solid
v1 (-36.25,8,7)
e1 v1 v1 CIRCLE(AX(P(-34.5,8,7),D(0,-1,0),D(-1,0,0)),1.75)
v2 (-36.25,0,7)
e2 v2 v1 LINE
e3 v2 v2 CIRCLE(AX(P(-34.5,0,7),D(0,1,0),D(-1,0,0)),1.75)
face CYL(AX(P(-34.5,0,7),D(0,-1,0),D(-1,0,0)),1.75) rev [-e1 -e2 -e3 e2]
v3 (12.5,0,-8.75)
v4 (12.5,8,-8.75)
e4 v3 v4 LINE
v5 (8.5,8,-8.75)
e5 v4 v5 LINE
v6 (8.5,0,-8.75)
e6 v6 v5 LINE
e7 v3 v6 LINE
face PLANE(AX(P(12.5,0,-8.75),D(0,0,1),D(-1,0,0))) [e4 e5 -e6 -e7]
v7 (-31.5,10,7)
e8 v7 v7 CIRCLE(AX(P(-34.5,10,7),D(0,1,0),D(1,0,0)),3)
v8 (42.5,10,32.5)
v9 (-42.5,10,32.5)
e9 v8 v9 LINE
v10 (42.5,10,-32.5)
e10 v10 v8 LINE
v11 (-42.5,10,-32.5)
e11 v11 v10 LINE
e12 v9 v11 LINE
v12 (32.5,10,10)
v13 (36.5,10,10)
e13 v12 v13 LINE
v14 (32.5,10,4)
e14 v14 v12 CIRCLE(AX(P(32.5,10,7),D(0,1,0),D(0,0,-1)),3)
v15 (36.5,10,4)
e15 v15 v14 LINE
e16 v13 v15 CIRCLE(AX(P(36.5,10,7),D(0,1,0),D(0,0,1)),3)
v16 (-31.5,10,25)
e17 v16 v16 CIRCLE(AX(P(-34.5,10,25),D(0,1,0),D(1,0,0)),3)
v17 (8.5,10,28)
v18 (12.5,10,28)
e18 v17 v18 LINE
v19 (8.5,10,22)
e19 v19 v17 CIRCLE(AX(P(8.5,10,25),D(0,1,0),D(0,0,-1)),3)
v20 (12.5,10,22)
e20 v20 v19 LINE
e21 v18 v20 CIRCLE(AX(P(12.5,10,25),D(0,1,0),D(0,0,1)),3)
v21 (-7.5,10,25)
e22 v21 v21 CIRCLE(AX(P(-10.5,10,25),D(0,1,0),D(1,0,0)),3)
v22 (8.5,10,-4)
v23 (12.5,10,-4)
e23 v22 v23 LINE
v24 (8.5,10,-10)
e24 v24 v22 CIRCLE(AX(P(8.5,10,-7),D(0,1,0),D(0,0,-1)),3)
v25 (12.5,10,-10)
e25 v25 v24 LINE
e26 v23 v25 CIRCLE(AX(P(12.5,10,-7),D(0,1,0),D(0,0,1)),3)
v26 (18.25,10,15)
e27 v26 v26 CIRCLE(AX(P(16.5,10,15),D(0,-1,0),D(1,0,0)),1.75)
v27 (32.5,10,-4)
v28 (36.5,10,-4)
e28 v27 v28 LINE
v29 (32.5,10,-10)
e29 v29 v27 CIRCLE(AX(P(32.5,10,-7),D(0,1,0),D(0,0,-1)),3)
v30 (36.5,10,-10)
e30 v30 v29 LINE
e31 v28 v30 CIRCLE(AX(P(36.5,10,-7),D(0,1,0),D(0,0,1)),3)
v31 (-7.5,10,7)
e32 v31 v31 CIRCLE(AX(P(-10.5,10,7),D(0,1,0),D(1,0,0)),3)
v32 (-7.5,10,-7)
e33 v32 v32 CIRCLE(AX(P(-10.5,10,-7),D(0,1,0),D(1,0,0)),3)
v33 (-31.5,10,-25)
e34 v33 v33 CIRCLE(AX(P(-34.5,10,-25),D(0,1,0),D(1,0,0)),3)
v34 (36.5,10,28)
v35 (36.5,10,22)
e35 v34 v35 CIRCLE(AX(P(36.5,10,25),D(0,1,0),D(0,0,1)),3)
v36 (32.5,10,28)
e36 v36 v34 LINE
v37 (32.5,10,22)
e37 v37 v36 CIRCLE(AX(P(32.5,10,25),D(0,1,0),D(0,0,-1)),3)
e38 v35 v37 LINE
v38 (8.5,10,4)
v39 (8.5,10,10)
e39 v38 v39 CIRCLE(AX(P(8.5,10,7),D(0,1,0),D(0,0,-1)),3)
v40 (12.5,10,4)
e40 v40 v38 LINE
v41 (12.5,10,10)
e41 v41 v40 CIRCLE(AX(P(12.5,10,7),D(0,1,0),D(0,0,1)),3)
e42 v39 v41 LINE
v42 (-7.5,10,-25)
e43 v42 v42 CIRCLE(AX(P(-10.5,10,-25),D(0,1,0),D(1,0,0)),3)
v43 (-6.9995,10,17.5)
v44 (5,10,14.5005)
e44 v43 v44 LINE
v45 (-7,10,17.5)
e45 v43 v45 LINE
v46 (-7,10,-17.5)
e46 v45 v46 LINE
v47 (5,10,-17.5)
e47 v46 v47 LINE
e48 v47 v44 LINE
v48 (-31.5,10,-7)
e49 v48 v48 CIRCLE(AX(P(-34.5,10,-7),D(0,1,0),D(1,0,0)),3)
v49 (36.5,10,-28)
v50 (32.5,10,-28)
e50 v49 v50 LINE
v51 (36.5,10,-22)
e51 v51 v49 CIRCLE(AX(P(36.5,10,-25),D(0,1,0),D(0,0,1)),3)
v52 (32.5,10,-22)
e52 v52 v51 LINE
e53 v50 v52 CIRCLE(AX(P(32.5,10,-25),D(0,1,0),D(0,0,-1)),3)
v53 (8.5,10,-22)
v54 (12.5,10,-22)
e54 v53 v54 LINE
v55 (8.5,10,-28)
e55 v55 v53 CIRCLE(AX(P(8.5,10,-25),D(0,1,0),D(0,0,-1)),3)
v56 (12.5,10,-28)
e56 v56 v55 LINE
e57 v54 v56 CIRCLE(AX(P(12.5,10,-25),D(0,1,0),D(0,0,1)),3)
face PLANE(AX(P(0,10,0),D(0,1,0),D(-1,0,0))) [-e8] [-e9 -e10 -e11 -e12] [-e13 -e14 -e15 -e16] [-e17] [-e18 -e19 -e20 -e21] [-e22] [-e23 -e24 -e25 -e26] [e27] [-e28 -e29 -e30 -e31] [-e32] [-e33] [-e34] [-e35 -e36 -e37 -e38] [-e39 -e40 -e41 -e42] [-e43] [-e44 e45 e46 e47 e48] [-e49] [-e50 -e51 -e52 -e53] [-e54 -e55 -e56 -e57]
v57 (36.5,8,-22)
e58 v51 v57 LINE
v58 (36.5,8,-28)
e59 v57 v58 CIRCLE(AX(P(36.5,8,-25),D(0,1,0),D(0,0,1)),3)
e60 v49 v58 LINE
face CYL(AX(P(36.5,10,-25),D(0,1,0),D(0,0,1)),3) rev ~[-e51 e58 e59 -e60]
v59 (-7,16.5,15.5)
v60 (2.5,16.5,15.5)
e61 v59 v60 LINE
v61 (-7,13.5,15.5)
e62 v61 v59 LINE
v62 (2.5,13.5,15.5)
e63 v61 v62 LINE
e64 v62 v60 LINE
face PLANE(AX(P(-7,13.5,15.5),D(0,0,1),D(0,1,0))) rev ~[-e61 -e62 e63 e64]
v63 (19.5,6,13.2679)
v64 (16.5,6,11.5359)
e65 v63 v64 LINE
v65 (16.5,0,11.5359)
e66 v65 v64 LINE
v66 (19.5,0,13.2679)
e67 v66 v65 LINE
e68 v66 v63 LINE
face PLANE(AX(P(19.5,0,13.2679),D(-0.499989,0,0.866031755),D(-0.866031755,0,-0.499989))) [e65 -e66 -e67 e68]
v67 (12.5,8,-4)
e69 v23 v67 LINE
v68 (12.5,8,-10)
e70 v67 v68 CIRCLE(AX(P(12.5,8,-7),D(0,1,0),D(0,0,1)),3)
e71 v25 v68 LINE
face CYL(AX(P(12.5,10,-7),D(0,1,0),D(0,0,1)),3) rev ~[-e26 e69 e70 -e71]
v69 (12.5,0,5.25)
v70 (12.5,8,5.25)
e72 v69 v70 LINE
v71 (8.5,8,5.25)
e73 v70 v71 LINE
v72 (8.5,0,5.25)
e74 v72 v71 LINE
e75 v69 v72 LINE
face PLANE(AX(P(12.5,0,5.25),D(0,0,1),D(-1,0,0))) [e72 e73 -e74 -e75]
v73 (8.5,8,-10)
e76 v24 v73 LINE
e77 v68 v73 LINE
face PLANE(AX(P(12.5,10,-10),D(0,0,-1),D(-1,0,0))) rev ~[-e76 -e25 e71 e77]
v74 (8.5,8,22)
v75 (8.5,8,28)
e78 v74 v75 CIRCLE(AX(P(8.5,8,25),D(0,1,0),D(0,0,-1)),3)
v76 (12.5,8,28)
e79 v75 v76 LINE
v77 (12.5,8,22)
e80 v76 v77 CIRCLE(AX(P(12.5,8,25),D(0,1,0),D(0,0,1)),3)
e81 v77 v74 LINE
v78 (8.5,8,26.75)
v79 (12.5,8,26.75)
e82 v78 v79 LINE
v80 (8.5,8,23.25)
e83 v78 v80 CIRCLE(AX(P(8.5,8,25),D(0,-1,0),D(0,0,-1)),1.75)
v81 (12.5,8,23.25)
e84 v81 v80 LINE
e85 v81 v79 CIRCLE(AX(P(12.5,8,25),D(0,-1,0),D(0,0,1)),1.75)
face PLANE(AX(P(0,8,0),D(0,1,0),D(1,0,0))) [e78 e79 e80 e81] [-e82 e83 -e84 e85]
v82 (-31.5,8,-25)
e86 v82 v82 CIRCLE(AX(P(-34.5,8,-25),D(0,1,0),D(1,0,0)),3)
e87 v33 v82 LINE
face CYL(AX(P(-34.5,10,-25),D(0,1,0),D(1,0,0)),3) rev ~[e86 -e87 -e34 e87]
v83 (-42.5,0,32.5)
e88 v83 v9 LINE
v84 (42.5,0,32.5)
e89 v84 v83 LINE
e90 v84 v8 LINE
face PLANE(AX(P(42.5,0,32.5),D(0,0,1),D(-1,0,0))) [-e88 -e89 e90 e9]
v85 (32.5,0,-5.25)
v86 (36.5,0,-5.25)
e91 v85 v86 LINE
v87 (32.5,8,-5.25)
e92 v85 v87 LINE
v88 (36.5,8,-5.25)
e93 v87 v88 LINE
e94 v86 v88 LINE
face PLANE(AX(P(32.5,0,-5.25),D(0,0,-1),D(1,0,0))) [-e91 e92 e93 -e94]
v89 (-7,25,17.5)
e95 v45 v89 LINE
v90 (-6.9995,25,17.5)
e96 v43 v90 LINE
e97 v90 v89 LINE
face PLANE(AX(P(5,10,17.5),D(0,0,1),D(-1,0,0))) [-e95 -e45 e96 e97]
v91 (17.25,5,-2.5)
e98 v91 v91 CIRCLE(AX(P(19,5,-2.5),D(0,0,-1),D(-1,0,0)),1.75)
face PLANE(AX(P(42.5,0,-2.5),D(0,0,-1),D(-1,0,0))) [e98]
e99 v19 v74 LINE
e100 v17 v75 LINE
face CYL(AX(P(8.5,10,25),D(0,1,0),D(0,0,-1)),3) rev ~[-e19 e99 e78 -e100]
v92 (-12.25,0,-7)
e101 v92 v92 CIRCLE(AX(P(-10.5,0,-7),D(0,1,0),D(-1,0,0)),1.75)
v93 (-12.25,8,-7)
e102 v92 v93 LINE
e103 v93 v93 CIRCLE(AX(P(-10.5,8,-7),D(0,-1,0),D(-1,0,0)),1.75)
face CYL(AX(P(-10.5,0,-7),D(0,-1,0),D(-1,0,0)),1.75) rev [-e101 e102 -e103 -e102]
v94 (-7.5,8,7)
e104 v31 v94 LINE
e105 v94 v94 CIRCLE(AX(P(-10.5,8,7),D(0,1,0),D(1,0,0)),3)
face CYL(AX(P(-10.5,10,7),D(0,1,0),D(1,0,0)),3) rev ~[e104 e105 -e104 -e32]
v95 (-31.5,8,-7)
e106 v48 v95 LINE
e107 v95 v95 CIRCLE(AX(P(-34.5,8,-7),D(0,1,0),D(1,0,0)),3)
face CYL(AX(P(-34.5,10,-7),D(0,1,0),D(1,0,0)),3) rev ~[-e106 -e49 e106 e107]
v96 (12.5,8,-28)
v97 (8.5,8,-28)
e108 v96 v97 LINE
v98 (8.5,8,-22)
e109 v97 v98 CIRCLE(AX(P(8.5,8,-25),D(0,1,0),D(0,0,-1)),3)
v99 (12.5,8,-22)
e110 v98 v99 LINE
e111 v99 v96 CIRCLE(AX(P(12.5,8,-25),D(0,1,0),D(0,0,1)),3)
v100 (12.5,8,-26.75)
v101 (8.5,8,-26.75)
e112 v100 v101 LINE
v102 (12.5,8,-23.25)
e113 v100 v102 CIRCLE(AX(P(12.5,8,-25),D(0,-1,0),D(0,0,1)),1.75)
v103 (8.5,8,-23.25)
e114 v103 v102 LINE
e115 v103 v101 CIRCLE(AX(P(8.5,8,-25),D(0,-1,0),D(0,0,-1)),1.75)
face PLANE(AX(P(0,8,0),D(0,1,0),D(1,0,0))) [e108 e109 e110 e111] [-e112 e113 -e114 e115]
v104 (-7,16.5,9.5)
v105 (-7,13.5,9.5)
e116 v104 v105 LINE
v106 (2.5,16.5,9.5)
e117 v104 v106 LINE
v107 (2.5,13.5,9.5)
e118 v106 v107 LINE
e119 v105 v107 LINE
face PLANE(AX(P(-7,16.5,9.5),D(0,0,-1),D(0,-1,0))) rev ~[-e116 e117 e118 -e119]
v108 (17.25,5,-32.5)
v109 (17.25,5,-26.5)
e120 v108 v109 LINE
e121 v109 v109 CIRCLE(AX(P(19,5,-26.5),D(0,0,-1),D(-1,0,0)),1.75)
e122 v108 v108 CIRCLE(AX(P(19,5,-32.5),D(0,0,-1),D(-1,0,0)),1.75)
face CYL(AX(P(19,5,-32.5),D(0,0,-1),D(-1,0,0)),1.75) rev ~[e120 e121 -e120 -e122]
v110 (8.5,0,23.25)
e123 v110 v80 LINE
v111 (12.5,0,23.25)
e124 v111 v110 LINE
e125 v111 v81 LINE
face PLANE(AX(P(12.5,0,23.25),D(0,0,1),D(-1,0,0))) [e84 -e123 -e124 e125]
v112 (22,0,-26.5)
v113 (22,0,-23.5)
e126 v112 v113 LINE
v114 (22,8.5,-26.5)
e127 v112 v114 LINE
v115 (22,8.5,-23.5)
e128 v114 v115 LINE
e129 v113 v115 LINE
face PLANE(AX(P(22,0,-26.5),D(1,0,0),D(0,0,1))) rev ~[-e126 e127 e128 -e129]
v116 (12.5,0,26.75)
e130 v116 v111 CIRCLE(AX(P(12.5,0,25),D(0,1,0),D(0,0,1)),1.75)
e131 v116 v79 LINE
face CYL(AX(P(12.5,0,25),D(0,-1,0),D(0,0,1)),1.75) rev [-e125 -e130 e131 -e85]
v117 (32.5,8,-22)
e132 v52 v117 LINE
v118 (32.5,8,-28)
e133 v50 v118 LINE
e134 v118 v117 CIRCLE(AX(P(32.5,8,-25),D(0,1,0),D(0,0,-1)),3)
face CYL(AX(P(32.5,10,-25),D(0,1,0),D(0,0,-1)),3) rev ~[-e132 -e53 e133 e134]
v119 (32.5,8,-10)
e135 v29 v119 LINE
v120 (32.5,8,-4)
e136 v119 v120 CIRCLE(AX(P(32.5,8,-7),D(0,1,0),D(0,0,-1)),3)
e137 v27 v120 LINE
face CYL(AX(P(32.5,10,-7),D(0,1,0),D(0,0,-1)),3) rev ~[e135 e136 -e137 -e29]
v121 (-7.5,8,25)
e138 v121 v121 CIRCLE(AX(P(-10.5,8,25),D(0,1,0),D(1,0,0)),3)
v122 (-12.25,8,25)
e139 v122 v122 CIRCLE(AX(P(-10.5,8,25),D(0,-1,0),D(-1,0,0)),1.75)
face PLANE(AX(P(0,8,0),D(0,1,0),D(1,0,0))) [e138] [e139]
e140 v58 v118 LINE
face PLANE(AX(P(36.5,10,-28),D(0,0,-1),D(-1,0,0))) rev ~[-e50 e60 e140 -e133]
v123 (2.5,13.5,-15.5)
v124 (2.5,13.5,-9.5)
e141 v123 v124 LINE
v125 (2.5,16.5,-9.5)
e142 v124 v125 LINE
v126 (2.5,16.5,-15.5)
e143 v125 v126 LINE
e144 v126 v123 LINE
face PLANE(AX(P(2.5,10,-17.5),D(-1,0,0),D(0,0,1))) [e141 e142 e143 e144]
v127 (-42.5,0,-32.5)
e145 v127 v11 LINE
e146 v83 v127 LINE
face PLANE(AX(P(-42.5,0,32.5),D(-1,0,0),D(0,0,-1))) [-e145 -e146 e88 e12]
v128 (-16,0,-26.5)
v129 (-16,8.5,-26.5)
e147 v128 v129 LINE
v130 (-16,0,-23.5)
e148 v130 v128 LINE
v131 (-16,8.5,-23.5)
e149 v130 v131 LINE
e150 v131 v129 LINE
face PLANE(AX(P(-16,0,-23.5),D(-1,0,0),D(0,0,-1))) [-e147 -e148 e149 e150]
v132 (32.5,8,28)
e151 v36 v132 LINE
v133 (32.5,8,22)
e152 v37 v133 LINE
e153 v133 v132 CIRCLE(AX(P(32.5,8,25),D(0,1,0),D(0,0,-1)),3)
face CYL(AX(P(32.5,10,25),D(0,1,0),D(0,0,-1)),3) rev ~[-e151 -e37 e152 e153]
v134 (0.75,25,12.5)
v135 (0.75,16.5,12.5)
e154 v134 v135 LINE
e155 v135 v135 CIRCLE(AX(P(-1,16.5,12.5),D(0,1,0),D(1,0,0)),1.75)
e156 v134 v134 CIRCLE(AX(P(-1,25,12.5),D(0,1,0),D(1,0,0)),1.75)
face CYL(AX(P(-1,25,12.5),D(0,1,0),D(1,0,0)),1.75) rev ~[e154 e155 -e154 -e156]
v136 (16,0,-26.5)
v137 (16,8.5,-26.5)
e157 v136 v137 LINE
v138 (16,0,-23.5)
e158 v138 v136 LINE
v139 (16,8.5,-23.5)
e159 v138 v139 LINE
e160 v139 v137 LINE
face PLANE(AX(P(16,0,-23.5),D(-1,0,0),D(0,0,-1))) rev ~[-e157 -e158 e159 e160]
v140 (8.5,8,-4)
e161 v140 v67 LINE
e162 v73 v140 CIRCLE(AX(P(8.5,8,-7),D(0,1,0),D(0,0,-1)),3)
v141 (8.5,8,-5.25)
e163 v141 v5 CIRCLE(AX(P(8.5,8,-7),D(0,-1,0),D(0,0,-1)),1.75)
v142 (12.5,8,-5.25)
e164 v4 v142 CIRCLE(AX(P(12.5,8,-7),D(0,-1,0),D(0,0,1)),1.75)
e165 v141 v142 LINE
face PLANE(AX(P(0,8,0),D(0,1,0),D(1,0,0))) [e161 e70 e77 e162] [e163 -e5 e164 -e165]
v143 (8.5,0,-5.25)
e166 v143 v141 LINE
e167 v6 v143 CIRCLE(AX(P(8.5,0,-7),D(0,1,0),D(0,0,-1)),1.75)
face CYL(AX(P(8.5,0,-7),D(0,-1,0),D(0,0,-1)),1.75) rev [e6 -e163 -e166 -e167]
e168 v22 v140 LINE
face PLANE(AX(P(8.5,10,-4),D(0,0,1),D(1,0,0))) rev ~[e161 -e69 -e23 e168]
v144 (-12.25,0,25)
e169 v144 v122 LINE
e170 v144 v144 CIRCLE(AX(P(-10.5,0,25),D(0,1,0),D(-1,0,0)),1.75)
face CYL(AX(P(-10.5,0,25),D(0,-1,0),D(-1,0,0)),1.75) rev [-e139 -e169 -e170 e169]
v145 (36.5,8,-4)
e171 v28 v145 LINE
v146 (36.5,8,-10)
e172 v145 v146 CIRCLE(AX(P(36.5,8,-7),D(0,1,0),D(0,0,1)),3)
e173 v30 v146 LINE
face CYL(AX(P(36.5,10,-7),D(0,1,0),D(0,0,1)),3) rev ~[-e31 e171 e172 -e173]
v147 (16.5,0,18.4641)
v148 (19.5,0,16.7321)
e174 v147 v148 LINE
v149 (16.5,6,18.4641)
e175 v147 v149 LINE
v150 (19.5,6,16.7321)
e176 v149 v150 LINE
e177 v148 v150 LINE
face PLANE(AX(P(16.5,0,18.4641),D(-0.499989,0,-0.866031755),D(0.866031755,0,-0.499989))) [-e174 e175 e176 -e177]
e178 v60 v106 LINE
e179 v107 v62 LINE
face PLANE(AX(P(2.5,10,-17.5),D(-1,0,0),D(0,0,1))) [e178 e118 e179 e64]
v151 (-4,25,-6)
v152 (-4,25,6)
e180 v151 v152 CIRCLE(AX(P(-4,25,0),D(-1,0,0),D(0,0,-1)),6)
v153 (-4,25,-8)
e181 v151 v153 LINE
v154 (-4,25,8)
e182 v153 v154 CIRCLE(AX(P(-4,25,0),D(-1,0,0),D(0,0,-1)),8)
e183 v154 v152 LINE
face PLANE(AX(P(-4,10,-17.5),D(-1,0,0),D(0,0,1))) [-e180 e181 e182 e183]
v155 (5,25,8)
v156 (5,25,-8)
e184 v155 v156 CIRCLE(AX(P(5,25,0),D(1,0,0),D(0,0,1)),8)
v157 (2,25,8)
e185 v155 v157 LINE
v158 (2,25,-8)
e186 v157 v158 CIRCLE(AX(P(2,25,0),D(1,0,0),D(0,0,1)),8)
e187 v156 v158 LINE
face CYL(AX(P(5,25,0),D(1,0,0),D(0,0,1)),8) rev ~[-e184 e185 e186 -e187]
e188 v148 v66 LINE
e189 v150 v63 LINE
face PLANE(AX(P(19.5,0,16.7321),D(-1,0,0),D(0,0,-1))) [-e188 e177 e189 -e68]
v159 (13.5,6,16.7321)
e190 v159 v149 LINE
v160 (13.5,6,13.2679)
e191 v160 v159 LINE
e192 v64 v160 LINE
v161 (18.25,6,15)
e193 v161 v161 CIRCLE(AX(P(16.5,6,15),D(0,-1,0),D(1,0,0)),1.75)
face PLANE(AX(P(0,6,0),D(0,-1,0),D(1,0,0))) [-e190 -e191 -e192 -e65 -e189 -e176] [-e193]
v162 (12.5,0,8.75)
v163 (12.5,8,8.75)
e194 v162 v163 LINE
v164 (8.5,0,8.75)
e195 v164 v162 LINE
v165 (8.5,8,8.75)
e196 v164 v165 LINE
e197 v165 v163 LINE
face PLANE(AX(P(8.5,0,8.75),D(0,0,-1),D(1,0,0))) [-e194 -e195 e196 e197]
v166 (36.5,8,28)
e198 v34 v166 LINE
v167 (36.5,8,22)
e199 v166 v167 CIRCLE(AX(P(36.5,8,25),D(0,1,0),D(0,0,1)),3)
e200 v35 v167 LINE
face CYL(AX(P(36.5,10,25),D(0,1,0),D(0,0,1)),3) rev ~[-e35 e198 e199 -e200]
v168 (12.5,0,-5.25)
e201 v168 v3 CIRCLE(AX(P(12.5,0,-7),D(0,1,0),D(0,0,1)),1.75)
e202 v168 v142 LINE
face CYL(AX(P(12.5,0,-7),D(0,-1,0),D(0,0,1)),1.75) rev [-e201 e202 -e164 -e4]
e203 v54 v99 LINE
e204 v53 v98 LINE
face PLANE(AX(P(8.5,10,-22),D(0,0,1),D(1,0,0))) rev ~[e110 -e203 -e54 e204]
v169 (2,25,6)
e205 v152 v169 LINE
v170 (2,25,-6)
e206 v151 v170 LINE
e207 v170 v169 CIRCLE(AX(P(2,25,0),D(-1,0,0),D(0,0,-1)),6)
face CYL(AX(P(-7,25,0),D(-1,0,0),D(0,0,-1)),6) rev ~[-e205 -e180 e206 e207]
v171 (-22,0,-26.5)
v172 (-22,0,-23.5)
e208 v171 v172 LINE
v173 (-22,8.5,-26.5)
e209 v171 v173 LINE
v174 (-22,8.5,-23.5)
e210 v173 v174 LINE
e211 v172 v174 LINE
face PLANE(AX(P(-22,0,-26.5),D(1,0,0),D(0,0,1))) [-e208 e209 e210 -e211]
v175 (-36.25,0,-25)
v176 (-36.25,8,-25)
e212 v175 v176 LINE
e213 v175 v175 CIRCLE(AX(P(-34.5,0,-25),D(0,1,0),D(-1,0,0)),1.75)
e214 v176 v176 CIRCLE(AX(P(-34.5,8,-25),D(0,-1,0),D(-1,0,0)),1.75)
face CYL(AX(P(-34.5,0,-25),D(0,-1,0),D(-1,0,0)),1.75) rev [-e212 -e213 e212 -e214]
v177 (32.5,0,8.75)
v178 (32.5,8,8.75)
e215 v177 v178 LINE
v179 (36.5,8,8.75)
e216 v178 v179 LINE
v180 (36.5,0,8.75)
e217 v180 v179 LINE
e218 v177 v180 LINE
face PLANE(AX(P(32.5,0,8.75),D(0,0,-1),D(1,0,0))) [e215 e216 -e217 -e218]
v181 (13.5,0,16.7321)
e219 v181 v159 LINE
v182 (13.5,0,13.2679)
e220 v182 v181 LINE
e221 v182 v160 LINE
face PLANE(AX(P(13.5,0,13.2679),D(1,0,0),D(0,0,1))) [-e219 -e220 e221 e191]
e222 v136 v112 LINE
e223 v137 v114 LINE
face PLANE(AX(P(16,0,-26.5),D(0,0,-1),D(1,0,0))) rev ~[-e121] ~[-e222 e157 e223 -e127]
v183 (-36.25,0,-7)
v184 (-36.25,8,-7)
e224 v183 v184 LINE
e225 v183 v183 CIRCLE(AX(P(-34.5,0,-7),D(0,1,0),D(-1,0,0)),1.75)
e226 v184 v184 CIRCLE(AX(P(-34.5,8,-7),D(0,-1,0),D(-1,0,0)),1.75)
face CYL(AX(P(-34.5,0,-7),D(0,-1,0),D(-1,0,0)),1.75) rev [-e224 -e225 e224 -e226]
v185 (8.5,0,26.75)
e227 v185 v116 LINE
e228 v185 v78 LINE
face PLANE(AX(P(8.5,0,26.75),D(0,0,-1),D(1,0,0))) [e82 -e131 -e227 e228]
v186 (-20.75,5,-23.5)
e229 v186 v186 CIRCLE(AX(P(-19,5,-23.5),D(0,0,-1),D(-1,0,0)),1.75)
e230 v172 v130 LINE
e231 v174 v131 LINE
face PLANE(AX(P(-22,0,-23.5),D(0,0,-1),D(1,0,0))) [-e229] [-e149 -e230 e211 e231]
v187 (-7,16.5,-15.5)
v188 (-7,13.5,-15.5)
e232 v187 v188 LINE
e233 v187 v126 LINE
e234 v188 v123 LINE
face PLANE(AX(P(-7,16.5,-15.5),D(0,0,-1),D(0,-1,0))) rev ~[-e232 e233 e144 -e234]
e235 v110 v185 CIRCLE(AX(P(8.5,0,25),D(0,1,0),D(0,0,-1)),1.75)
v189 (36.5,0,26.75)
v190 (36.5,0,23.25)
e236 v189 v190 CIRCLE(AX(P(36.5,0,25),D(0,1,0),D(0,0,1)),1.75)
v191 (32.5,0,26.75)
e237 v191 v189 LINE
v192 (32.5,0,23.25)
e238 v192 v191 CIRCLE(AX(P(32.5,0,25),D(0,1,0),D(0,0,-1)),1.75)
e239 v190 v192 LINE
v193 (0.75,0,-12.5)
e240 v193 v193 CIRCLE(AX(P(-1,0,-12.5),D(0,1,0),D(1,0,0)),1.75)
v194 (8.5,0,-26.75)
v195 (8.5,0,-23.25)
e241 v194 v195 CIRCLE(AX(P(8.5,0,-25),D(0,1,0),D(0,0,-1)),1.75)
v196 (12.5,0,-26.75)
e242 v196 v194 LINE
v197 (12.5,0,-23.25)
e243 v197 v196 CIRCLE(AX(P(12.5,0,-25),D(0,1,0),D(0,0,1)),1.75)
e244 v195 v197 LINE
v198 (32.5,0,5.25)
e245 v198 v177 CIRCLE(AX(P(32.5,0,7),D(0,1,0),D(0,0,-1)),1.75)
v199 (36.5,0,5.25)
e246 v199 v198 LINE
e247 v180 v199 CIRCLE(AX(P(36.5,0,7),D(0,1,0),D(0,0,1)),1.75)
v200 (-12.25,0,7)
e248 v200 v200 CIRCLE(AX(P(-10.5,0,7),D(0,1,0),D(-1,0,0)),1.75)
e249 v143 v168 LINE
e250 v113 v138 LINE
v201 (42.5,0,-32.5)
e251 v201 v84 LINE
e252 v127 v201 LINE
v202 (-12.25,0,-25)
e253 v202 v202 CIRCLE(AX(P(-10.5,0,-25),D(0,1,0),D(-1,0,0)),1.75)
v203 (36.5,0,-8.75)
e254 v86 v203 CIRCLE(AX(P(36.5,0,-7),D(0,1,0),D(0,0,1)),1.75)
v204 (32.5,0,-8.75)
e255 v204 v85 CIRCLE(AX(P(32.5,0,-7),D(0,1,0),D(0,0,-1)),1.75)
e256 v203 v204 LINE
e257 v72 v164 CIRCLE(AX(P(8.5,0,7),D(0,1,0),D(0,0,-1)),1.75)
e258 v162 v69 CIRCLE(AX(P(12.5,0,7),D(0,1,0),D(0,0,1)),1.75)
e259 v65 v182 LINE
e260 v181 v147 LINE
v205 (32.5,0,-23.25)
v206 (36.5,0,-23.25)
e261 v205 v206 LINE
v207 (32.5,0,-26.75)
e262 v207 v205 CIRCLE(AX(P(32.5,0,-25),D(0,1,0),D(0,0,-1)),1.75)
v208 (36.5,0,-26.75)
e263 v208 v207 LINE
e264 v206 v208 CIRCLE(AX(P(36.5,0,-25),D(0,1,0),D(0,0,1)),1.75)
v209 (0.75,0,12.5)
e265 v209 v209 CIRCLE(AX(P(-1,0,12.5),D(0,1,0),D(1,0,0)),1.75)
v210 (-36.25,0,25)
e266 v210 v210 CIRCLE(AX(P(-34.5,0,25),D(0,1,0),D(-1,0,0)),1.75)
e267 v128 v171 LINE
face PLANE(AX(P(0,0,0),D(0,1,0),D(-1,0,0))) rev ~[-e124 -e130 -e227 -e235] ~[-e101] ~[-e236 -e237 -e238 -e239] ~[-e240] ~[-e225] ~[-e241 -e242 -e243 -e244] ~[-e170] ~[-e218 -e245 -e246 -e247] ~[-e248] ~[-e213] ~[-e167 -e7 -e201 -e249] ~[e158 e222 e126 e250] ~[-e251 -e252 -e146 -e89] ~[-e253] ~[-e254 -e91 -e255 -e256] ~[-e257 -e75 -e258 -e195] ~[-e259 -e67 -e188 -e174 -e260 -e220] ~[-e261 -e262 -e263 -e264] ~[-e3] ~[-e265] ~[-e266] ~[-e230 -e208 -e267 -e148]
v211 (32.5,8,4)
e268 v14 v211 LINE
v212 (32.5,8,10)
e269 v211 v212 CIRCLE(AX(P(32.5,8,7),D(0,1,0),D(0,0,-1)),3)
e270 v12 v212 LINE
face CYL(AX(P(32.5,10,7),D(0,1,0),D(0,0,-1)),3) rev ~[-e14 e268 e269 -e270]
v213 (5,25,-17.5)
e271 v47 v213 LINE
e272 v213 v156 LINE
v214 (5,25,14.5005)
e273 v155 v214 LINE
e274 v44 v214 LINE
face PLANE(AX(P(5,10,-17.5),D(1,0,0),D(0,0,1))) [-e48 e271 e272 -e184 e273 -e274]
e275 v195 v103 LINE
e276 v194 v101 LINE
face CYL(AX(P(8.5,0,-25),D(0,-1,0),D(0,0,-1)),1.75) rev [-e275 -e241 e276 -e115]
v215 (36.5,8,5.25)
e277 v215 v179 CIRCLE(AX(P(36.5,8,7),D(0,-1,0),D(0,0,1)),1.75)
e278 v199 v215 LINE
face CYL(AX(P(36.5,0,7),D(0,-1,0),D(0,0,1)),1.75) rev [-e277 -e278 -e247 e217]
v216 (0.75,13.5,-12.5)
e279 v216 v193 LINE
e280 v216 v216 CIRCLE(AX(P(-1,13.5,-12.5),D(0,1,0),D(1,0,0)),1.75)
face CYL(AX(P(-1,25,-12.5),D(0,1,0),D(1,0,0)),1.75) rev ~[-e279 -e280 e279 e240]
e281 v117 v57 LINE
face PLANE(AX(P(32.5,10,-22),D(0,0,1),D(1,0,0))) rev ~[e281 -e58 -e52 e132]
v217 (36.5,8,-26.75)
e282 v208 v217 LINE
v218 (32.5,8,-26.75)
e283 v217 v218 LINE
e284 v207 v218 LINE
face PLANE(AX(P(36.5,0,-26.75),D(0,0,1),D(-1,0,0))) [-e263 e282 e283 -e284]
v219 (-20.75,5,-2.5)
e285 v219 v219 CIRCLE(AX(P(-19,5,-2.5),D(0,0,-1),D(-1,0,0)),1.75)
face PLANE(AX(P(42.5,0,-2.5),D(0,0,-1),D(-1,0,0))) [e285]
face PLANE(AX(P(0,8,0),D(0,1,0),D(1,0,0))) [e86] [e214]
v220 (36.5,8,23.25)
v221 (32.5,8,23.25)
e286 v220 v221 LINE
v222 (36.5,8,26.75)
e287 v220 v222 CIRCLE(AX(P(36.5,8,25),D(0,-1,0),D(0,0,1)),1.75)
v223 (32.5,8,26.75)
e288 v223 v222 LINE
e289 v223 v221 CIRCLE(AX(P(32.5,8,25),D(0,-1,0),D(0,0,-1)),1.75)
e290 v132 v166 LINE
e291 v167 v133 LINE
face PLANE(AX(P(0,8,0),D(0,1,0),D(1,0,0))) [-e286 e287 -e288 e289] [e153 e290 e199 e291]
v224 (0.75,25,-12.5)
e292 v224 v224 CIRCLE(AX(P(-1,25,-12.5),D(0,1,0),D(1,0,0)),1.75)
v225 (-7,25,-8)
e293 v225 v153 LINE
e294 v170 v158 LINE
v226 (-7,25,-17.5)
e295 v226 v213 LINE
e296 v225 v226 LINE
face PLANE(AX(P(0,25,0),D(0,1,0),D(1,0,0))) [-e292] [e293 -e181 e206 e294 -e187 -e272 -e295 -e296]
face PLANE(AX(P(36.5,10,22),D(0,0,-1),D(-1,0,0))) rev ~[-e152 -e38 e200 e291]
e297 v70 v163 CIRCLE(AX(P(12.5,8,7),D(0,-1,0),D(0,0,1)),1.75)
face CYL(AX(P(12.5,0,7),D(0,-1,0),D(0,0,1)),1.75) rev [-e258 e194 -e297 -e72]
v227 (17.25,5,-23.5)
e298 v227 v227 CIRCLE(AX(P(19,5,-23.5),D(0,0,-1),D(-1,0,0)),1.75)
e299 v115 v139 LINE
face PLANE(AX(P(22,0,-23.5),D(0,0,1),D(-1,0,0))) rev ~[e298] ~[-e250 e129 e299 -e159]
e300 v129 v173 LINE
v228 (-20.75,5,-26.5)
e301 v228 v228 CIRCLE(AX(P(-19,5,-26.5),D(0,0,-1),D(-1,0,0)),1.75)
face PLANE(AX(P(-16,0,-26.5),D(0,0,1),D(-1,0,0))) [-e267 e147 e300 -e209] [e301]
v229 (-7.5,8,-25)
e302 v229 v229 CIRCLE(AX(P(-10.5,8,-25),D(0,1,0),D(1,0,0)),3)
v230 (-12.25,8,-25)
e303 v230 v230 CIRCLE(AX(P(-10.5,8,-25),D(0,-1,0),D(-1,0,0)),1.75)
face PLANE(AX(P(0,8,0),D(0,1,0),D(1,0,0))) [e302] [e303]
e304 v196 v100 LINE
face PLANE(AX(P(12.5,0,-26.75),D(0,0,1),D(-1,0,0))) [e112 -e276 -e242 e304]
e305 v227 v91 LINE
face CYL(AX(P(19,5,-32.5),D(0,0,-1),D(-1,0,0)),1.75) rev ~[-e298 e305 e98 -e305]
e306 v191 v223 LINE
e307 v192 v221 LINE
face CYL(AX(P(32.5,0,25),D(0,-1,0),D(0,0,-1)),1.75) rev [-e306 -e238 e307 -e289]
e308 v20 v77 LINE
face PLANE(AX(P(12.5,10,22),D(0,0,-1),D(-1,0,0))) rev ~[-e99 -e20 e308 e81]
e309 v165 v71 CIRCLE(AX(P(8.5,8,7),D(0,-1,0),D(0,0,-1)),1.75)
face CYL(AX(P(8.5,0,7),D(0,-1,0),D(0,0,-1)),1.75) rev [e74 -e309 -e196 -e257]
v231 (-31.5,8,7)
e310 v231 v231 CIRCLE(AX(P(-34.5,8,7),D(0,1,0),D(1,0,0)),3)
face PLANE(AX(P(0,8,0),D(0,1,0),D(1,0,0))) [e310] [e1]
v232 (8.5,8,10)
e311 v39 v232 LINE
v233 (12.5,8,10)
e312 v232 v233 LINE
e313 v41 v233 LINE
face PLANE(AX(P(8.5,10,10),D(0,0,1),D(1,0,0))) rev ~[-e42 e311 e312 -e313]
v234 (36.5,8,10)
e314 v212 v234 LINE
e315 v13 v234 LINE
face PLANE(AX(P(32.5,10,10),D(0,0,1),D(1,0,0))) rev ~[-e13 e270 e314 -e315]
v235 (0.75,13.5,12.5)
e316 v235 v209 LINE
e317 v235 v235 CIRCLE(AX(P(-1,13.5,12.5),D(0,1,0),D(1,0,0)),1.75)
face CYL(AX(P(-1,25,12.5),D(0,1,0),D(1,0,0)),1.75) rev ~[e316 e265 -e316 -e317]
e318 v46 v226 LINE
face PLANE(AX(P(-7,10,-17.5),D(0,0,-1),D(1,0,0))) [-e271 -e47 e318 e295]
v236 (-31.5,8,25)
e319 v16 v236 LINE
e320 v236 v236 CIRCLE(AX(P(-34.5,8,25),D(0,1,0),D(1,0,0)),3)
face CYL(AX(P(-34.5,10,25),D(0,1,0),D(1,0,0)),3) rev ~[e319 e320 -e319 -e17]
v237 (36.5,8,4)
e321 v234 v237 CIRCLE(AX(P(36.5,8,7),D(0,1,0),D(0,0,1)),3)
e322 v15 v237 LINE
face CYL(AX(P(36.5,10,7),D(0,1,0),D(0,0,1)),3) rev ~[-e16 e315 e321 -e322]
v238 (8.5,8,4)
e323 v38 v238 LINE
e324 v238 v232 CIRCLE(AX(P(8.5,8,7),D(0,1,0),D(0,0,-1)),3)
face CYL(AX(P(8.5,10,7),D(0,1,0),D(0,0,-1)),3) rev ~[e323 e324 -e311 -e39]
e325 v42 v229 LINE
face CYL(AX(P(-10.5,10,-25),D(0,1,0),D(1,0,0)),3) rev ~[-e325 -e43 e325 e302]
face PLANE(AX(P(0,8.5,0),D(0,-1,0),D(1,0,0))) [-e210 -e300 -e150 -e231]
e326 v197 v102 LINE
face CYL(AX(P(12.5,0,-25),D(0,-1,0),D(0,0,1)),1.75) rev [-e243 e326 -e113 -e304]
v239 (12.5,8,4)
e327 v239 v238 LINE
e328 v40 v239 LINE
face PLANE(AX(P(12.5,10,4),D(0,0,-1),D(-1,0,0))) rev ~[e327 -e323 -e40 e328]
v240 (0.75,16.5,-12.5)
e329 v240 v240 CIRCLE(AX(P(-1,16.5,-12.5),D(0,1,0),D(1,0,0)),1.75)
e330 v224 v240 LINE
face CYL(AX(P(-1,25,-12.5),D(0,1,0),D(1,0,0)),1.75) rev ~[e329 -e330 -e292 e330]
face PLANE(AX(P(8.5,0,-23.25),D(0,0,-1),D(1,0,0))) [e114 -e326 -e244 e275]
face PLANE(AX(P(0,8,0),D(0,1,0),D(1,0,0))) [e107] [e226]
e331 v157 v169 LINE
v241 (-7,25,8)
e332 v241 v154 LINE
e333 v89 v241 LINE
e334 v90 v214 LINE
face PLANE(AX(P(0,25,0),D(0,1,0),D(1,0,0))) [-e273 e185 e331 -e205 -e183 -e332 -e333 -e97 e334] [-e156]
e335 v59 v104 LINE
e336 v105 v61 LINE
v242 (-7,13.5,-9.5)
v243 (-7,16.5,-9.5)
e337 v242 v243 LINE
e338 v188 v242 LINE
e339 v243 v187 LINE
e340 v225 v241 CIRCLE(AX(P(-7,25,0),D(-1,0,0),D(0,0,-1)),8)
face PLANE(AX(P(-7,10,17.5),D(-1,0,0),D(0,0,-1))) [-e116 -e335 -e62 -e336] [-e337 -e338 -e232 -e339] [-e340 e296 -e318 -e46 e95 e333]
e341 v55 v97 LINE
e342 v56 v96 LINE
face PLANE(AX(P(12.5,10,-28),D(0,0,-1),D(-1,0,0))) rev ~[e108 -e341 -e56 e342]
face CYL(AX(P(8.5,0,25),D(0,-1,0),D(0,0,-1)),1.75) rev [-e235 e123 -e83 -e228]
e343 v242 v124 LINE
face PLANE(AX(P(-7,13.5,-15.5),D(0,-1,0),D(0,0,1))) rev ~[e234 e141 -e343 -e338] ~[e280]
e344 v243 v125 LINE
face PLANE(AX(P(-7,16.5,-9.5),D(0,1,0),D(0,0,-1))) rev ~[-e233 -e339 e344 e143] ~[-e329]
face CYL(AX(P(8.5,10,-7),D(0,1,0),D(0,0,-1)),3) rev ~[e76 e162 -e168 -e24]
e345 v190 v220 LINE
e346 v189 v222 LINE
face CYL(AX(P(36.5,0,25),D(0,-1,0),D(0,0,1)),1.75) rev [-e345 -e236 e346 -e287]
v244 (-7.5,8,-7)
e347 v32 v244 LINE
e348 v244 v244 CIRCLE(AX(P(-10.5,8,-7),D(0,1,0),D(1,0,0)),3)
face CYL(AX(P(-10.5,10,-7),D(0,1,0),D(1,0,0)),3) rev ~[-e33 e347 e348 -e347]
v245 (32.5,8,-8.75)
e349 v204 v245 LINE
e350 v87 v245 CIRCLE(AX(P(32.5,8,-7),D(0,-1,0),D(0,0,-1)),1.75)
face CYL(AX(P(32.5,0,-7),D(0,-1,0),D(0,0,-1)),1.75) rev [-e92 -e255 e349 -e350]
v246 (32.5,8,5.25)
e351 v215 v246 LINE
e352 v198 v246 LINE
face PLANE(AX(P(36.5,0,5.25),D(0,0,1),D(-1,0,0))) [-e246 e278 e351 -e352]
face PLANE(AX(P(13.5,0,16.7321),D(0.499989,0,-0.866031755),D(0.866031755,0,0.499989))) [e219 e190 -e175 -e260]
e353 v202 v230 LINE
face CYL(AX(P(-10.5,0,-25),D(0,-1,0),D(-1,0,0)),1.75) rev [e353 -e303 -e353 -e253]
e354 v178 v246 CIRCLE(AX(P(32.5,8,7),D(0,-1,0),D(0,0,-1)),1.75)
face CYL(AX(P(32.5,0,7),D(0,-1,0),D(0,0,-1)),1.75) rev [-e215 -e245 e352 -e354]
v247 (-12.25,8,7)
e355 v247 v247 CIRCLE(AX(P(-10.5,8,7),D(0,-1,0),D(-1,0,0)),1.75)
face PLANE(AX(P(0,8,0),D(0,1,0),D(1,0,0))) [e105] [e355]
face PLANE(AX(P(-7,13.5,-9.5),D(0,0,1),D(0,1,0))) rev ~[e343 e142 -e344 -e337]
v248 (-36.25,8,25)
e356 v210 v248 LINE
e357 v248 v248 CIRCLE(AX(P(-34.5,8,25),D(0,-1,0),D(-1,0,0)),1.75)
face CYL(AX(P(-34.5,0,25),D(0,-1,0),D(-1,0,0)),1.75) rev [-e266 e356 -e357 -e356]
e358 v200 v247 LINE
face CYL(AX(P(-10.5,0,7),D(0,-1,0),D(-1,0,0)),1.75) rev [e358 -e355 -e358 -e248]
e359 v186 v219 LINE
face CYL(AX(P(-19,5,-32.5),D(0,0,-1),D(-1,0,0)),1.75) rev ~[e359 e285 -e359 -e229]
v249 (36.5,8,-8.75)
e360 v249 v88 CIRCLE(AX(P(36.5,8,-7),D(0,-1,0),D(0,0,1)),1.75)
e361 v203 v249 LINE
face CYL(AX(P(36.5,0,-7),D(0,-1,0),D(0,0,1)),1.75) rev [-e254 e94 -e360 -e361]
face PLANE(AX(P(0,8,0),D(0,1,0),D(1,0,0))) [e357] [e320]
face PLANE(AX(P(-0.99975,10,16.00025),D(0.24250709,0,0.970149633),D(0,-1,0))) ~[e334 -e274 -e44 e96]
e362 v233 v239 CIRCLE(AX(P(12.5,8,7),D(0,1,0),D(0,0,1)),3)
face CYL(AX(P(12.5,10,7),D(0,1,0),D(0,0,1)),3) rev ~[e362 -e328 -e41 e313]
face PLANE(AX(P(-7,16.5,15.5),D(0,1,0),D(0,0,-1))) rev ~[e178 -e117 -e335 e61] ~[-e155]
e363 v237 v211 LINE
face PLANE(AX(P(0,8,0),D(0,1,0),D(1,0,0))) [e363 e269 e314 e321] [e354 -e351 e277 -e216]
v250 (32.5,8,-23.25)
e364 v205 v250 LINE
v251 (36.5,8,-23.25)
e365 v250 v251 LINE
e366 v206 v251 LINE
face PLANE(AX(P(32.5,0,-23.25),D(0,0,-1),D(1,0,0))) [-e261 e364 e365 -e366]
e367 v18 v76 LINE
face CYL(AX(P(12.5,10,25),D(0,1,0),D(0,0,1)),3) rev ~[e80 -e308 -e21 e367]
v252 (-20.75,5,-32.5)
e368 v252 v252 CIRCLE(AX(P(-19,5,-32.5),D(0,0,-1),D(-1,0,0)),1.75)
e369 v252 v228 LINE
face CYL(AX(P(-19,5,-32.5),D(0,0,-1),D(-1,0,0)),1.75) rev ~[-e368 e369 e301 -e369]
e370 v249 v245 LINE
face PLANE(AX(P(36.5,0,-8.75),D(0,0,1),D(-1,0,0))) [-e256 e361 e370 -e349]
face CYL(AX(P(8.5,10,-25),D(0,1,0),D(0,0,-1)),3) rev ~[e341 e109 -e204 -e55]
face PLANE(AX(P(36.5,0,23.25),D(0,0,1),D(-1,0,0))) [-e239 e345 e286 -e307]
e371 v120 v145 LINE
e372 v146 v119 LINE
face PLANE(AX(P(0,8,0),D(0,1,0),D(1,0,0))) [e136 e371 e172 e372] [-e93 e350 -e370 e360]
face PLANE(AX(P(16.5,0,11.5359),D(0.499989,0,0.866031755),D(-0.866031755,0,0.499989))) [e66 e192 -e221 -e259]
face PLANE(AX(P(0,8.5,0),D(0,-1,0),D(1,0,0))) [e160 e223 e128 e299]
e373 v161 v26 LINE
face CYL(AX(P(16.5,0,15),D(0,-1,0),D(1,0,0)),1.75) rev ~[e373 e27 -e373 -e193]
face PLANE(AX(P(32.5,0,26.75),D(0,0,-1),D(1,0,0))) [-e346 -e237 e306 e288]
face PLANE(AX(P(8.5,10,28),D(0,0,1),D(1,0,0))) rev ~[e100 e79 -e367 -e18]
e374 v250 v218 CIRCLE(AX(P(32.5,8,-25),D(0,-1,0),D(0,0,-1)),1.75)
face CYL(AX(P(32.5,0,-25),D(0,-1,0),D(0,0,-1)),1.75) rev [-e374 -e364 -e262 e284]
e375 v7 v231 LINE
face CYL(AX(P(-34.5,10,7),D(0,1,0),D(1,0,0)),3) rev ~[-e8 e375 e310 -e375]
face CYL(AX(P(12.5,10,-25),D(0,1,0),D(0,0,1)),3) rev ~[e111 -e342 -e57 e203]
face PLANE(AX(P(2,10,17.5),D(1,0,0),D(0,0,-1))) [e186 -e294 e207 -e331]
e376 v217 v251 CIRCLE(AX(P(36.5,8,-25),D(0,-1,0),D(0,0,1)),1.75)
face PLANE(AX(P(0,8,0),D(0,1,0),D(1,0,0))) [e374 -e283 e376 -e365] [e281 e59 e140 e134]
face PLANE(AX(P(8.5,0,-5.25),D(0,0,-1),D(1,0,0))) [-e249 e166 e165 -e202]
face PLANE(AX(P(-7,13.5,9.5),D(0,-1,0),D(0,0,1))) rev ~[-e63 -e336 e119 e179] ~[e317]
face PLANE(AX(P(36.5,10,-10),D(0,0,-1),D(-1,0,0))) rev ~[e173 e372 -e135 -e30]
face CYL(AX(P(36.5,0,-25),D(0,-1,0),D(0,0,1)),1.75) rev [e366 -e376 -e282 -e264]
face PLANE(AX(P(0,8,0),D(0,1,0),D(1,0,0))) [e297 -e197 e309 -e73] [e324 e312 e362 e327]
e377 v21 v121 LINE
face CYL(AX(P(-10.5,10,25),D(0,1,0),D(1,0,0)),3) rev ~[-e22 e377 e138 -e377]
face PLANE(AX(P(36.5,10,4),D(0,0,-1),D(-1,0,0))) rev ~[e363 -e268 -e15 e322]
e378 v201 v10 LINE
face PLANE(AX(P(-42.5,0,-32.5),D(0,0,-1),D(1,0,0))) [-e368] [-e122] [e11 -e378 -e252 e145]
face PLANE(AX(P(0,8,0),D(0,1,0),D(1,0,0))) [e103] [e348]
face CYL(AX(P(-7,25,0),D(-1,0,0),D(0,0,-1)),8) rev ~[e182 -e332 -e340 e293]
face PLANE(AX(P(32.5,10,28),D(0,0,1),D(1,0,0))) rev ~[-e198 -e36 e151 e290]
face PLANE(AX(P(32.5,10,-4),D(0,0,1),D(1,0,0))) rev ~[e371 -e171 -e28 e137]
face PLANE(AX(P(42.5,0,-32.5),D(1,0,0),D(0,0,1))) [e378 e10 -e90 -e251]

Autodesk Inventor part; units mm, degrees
ref_plane "YZ Plane" through (0, 0, 0) normal (1, 0, 0) x (0, 1, 0)
ref_plane "XZ Plane" through (0, 0, 0) normal (0, 1, 0) x (-1, 0, 0)
ref_plane "XY Plane" through (0, 0, 0) normal (0, 0, 1) x (1, 0, 0)
sketch "Szkic1" plane through (0, 0, 0) normal (0, 1, 0) x (-1, 0, 0)
  circle A0 centre (34.5, 25) radius 1.75
  circle A1 centre (34.5, -25) radius 1.75
  circle A2 centre (34.5, 7) radius 1.75
  circle A3 centre (34.5, -7) radius 1.75
  line L0 (-32.5, 25) -> (-36.5, 25) construction
  line L1 (-32.5, 26.75) -> (-36.5, 26.75)
  line L2 (-36.5, 23.25) -> (-32.5, 23.25)
  arc A4 (-32.5, 23.25) -> (-32.5, 26.75) centre (-32.5, 25) ccw
  arc A5 (-36.5, 26.75) -> (-36.5, 23.25) centre (-36.5, 25) ccw
  line L3 (-42.5, 32.5) -> (42.5, 32.5)
  line L4 (42.5, 32.5) -> (42.5, -32.5)
  line L5 (42.5, -32.5) -> (-42.5, -32.5)
  line L6 (-42.5, -32.5) -> (-42.5, 32.5)
  line L7 (-42.5, 32.5) -> (42.5, -32.5) construction
  line L8 (42.5, 32.5) -> (-42.5, -32.5) construction
  line L9 (-36.5, 7) -> (-32.5, 7) construction
  line L10 (-36.5, 5.25) -> (-32.5, 5.25)
  line L11 (-32.5, 8.75) -> (-36.5, 8.75)
  arc A6 (-36.5, 8.75) -> (-36.5, 5.25) centre (-36.5, 7) ccw
  arc A7 (-32.5, 5.25) -> (-32.5, 8.75) centre (-32.5, 7) ccw
  line L12 (-36.5, -7) -> (-32.5, -7) construction
  line L13 (-36.5, -8.75) -> (-32.5, -8.75)
  line L14 (-32.5, -5.25) -> (-36.5, -5.25)
  arc A8 (-36.5, -5.25) -> (-36.5, -8.75) centre (-36.5, -7) ccw
  arc A9 (-32.5, -8.75) -> (-32.5, -5.25) centre (-32.5, -7) ccw
  circle A10 centre (10.5, 25) radius 1.75
  circle A11 centre (10.5, 7) radius 1.75
  circle A12 centre (10.5, -7) radius 1.75
  circle A13 centre (10.5, -25) radius 1.75
  line L15 (-36.5, -25) -> (-32.5, -25) construction
  line L16 (-36.5, -26.75) -> (-32.5, -26.75)
  line L17 (-32.5, -23.25) -> (-36.5, -23.25)
  arc A14 (-36.5, -23.25) -> (-36.5, -26.75) centre (-36.5, -25) ccw
  arc A15 (-32.5, -26.75) -> (-32.5, -23.25) centre (-32.5, -25) ccw
  line L18 (-34.5, -25) -> (-30.5, -25) construction
  line L19 (-12.5, -7) -> (-8.5, -7) construction
  line L20 (-12.5, -8.75) -> (-8.5, -8.75)
  line L21 (-8.5, -5.25) -> (-12.5, -5.25)
  arc A16 (-12.5, -5.25) -> (-12.5, -8.75) centre (-12.5, -7) ccw
  arc A17 (-8.5, -8.75) -> (-8.5, -5.25) centre (-8.5, -7) ccw
  line L22 (-12.5, -25) -> (-8.5, -25) construction
  line L23 (-12.5, -26.75) -> (-8.5, -26.75)
  line L24 (-8.5, -23.25) -> (-12.5, -23.25)
  arc A18 (-12.5, -23.25) -> (-12.5, -26.75) centre (-12.5, -25) ccw
  arc A19 (-8.5, -26.75) -> (-8.5, -23.25) centre (-8.5, -25) ccw
  line L25 (-12.5, 7) -> (-8.5, 7) construction
  line L26 (-12.5, 5.25) -> (-8.5, 5.25)
  line L27 (-8.5, 8.75) -> (-12.5, 8.75)
  arc A20 (-12.5, 8.75) -> (-12.5, 5.25) centre (-12.5, 7) ccw
  arc A21 (-8.5, 5.25) -> (-8.5, 8.75) centre (-8.5, 7) ccw
  line L28 (-10.5, 7) -> (-6.5, 7) construction
  line L29 (-12.5, 25) -> (-8.5, 25) construction
  line L30 (-12.5, 23.25) -> (-8.5, 23.25)
  line L31 (-8.5, 26.75) -> (-12.5, 26.75)
  arc A22 (-12.5, 26.75) -> (-12.5, 23.25) centre (-12.5, 25) ccw
  arc A23 (-8.5, 23.25) -> (-8.5, 26.75) centre (-8.5, 25) ccw
  point P0 (0, 0)
  point P1 (-34.5, 25)
  point P2 (-34.5, 7)
  point P3 (-34.5, -7)
  point P4 (-10.5, -7)
  point P5 (-10.5, -25)
  point P6 (-10.5, 25)
  dimension "d2" = 3.5
  dimension "d3" = 3.5
  dimension "d7" = 3.5
  dimension "d8" = 3.5
  dimension "d9" = 2
  dimension "d10" = 3.5
  dimension "d11" = 85
  dimension "d12" = 65
  dimension "d13" = 2
  dimension "d14" = 3.5
  dimension "d15" = 2
  dimension "d16" = 3.5
  dimension "d19" = 3.5
  dimension "d20" = 3.5
  dimension "d21" = 3.5
  dimension "d22" = 3.5
  dimension "d23" = 2
  dimension "d24" = 0
  dimension "d25" = 3.5
  dimension "d26" = 2
  dimension "d27" = 3.5
  dimension "d28" = 2
  dimension "d29" = 3.5
  dimension "d30" = 2
  dimension "d31" = 0
  dimension "d32" = 3.5
  dimension "d33" = 2
  dimension "d34" = 3.5
extrude "Wyciągnięcie proste1" add sketch "Szkic1" along normal blind 10
sketch "Szkic2" plane through (0, 10, 0) normal (0, 1, 0) x (1, 0, 0)
  circle A0 centre (-34.5, -25) radius 3
  circle A1 centre (-34.5, -7) radius 3
  circle A2 centre (-34.5, 7) radius 3
  circle A3 centre (-34.5, 25) radius 3
  circle A4 centre (-10.5, -25) radius 3
  circle A5 centre (-10.5, -7) radius 3
  circle A6 centre (-10.5, 7) radius 3
  circle A7 centre (-10.5, 25) radius 3
  line L0 (8.5, -25) -> (12.5, -25) construction
  line L1 (8.5, -28) -> (12.5, -28)
  line L2 (12.5, -22) -> (8.5, -22)
  arc A8 (8.5, -22) -> (8.5, -28) centre (8.5, -25) ccw
  arc A9 (12.5, -28) -> (12.5, -22) centre (12.5, -25) ccw
  line L3 (8.5, -7) -> (12.5, -7) construction
  line L4 (8.5, -10) -> (12.5, -10)
  line L5 (12.5, -4) -> (8.5, -4)
  arc A10 (8.5, -4) -> (8.5, -10) centre (8.5, -7) ccw
  arc A11 (12.5, -10) -> (12.5, -4) centre (12.5, -7) ccw
  line L6 (8.5, 7) -> (12.5, 7) construction
  line L7 (8.5, 4) -> (12.5, 4)
  line L8 (12.5, 10) -> (8.5, 10)
  arc A12 (8.5, 10) -> (8.5, 4) centre (8.5, 7) ccw
  arc A13 (12.5, 4) -> (12.5, 10) centre (12.5, 7) ccw
  line L9 (8.5, 25) -> (12.5, 25) construction
  line L10 (8.5, 22) -> (12.5, 22)
  line L11 (12.5, 28) -> (8.5, 28)
  arc A14 (8.5, 28) -> (8.5, 22) centre (8.5, 25) ccw
  arc A15 (12.5, 22) -> (12.5, 28) centre (12.5, 25) ccw
  line L12 (32.5, -25) -> (36.5, -25) construction
  line L13 (32.5, -28) -> (36.5, -28)
  line L14 (36.5, -22) -> (32.5, -22)
  arc A16 (32.5, -22) -> (32.5, -28) centre (32.5, -25) ccw
  arc A17 (36.5, -28) -> (36.5, -22) centre (36.5, -25) ccw
  line L15 (32.5, -7) -> (36.5, -7) construction
  line L16 (32.5, -10) -> (36.5, -10)
  line L17 (36.5, -4) -> (32.5, -4)
  arc A18 (32.5, -4) -> (32.5, -10) centre (32.5, -7) ccw
  arc A19 (36.5, -10) -> (36.5, -4) centre (36.5, -7) ccw
  line L18 (32.5, 7) -> (36.5, 7) construction
  line L19 (32.5, 4) -> (36.5, 4)
  line L20 (36.5, 10) -> (32.5, 10)
  arc A20 (32.5, 10) -> (32.5, 4) centre (32.5, 7) ccw
  arc A21 (36.5, 4) -> (36.5, 10) centre (36.5, 7) ccw
  line L21 (32.5, 25) -> (36.5, 25) construction
  line L22 (32.5, 22) -> (36.5, 22)
  line L23 (36.5, 28) -> (32.5, 28)
  arc A22 (32.5, 28) -> (32.5, 22) centre (32.5, 25) ccw
  arc A23 (36.5, 22) -> (36.5, 28) centre (36.5, 25) ccw
  point P0 (0, 0)
  point P1 (10.5, -25)
  point P2 (10.5, -7)
  point P3 (10.5, 7)
  point P4 (10.5, 25)
  point P5 (34.5, -25)
  point P6 (34.5, -7)
  point P7 (34.5, 7)
  point P8 (34.5, 25)
  dimension "d37" = 6
  dimension "d38" = 6
  dimension "d39" = 6
  dimension "d40" = 6
  dimension "d41" = 6
  dimension "d42" = 6
  dimension "d43" = 6
  dimension "d44" = 6
  dimension "d45" = 2
  dimension "d46" = 6
  dimension "d47" = 2
  dimension "d48" = 6
  dimension "d49" = 2
  dimension "d50" = 6
  dimension "d51" = 2
  dimension "d52" = 6
  dimension "d53" = 2
  dimension "d54" = 6
  dimension "d55" = 2
  dimension "d56" = 6
  dimension "d57" = 2
  dimension "d58" = 6
  dimension "d59" = 2
  dimension "d60" = 6
extrude "Wyciągnięcie proste2" cut sketch "Szkic2" against normal blind 2
sketch "Szkic5" plane through (0, 10, 0) normal (0, 1, 0) x (1, 0, 0)
  line L0 (5, -17.5) -> (-7, -17.5)
  line L1 (-7, -17.5) -> (-7, 17.5)
  line L2 (-7, 17.5) -> (5, 17.5)
  line L3 (5, 17.5) -> (5, -17.5)
  line L4 (5, -17.5) -> (-7, 17.5) construction
  line L5 (-7, -17.5) -> (5, 17.5) construction
  point P0 (0, 0)
  point P1 (-1, 0)
  dimension "d69" = 12
  dimension "d70" = 35
extrude "Wyciągnięcie proste4" add sketch "Szkic5" along normal blind 15
sketch "Szkic6" plane through (-7, 10, -17.5) normal (-1, 0, 0) x (0, 0, 1)
  arc A0 (11.5, 15) -> (23.5, 15) centre (17.5, 15) ccw
  line L0 (25.5, 15) -> (23.5, 15)
  line L1 (23.5, 15) -> (11.5, 15)
  arc A1 (9.5, 15) -> (25.5, 15) centre (17.5, 15) ccw
  line L2 (11.5, 15) -> (9.5, 15)
  point P0 (17.5, -10)
  dimension "d73" = 12
sketch "Szkic7" plane through (5, 10, 17.5) normal (1, 0, 0) x (0, 0, -1)
  line L0 (9.5, 15) -> (25.5, 15)
  arc A0 (9.5, 15) -> (25.5, 15) centre (17.5, 15) ccw
  point P0 (17.5, -10)
extrude "Wyciągnięcie proste5" cut sketch "Szkic6" against normal blind 3 contours A0 L0 A1 L2
extrude "Wyciągnięcie proste6" cut sketch "Szkic7" against normal blind 3
sketch "Szkic8" plane through (-7, 25, 0) normal (-1, 0, 0) x (0, 0, 1)
  line L0 (6, 0) -> (-6, 0)
  arc A0 (-6, 0) -> (6, 0) centre (0, 0) ccw
  point P0 (0, -25)
extrude "Wyciągnięcie proste7" cut sketch "Szkic8" against normal blind 9
sketch "Szkic9" plane through (0, 25, 0) normal (0, 1, 0) x (1, 0, 0)
  circle A0 centre (-1, 12.5) radius 1.75
  circle A1 centre (-1, -12.5) radius 1.75
  point P0 (0, 0)
  dimension "d83" = 3.5
  dimension "d84" = 3.5
sketch "Szkic10" plane through (-7, 10, -17.5) normal (-1, 0, 0) x (0, 0, 1)
  line L0 (8, 6.5) -> (2, 6.5)
  line L1 (2, 6.5) -> (2, 3.5)
  line L2 (2, 3.5) -> (8, 3.5)
  line L3 (8, 3.5) -> (8, 6.5)
  line L4 (8, 6.5) -> (2, 3.5) construction
  line L5 (2, 6.5) -> (8, 3.5) construction
  line L6 (33, 6.5) -> (27, 6.5)
  line L7 (27, 6.5) -> (27, 3.5)
  line L8 (27, 3.5) -> (33, 3.5)
  line L9 (33, 3.5) -> (33, 6.5)
  line L10 (33, 6.5) -> (27, 3.5) construction
  line L11 (27, 6.5) -> (33, 3.5) construction
  point P0 (17.5, -10)
  point P1 (5, 5)
  point P2 (30, 5)
  dimension "d91" = 6
  dimension "d92" = 3
  dimension "d93" = 6
  dimension "d94" = 3
extrude "Wyciągnięcie proste9" cut sketch "Szkic10" against normal blind 9.5
extrude "Wyciągnięcie proste10" cut sketch "Szkic9" against normal blind 25
chamfer "Faza1" distance 12 distance2 3 1 edges at (5, 17.5, 17.5) measured on face at (1, 15, 17.5)
sketch "Szkic11" plane through (0, 0, 0) normal (0, -1, 0) x (1, 0, 0)
  circle A0 centre (16.5, 15) radius 1.75
  point P0 (0, 0)
  dimension "d106" = 3.5
extrude "Wyciągnięcie proste11" cut sketch "Szkic11" against normal blind 10
sketch "Szkic12" plane through (0, 0, 0) normal (0, -1, 0) x (1, 0, 0)
  line L0 (13.5, 16.7321) -> (16.5, 18.4641)
  line L1 (16.5, 18.4641) -> (19.5, 16.7321)
  line L2 (19.5, 16.7321) -> (19.5, 13.2679)
  line L3 (19.5, 13.2679) -> (16.5, 11.5359)
  line L4 (16.5, 11.5359) -> (13.5, 13.2679)
  line L5 (13.5, 13.2679) -> (13.5, 16.7321)
  point P0 (0, 0)
  point P1 (16.5, 15)
  point P2 (13.5, 15)
  point P3 (16.5, 15)
extrude "Wyciągnięcie proste12" cut sketch "Szkic12" against normal blind 6
sketch "Szkic15" plane through (42.5, 0, -32.5) normal (0, 0, -1) x (-1, 0, 0)
  circle A0 centre (61.5, 5) radius 1.75
  circle A1 centre (23.5, 5) radius 1.75
  point P0 (42.5, 0)
  dimension "d118" = 3.5
  dimension "d119" = 3.5
extrude "Wyciągnięcie proste14" cut sketch "Szkic15" against normal blind 30
sketch "Szkic16" plane through (0, 0, 0) normal (0, -1, 0) x (1, 0, 0)
  line L0 (-16, -26.5) -> (-22, -26.5)
  line L1 (-22, -26.5) -> (-22, -23.5)
  line L2 (-22, -23.5) -> (-16, -23.5)
  line L3 (-16, -23.5) -> (-16, -26.5)
  line L4 (-16, -26.5) -> (-22, -23.5) construction
  line L5 (-22, -26.5) -> (-16, -23.5) construction
  line L6 (22, -23.5) -> (16, -23.5)
  line L7 (16, -23.5) -> (16, -26.5)
  line L8 (16, -26.5) -> (22, -26.5)
  line L9 (22, -26.5) -> (22, -23.5)
  line L10 (22, -23.5) -> (16, -26.5) construction
  line L11 (16, -23.5) -> (22, -26.5) construction
  point P0 (0, 0)
  point P1 (-19, -25)
  point P2 (19, -25)
  dimension "d122" = 6
  dimension "d123" = 3
  dimension "d124" = 6
  dimension "d125" = 3
extrude "Wyciągnięcie proste15" cut sketch "Szkic16" against normal blind 8.5
properties part number "ExtruderHolder"
